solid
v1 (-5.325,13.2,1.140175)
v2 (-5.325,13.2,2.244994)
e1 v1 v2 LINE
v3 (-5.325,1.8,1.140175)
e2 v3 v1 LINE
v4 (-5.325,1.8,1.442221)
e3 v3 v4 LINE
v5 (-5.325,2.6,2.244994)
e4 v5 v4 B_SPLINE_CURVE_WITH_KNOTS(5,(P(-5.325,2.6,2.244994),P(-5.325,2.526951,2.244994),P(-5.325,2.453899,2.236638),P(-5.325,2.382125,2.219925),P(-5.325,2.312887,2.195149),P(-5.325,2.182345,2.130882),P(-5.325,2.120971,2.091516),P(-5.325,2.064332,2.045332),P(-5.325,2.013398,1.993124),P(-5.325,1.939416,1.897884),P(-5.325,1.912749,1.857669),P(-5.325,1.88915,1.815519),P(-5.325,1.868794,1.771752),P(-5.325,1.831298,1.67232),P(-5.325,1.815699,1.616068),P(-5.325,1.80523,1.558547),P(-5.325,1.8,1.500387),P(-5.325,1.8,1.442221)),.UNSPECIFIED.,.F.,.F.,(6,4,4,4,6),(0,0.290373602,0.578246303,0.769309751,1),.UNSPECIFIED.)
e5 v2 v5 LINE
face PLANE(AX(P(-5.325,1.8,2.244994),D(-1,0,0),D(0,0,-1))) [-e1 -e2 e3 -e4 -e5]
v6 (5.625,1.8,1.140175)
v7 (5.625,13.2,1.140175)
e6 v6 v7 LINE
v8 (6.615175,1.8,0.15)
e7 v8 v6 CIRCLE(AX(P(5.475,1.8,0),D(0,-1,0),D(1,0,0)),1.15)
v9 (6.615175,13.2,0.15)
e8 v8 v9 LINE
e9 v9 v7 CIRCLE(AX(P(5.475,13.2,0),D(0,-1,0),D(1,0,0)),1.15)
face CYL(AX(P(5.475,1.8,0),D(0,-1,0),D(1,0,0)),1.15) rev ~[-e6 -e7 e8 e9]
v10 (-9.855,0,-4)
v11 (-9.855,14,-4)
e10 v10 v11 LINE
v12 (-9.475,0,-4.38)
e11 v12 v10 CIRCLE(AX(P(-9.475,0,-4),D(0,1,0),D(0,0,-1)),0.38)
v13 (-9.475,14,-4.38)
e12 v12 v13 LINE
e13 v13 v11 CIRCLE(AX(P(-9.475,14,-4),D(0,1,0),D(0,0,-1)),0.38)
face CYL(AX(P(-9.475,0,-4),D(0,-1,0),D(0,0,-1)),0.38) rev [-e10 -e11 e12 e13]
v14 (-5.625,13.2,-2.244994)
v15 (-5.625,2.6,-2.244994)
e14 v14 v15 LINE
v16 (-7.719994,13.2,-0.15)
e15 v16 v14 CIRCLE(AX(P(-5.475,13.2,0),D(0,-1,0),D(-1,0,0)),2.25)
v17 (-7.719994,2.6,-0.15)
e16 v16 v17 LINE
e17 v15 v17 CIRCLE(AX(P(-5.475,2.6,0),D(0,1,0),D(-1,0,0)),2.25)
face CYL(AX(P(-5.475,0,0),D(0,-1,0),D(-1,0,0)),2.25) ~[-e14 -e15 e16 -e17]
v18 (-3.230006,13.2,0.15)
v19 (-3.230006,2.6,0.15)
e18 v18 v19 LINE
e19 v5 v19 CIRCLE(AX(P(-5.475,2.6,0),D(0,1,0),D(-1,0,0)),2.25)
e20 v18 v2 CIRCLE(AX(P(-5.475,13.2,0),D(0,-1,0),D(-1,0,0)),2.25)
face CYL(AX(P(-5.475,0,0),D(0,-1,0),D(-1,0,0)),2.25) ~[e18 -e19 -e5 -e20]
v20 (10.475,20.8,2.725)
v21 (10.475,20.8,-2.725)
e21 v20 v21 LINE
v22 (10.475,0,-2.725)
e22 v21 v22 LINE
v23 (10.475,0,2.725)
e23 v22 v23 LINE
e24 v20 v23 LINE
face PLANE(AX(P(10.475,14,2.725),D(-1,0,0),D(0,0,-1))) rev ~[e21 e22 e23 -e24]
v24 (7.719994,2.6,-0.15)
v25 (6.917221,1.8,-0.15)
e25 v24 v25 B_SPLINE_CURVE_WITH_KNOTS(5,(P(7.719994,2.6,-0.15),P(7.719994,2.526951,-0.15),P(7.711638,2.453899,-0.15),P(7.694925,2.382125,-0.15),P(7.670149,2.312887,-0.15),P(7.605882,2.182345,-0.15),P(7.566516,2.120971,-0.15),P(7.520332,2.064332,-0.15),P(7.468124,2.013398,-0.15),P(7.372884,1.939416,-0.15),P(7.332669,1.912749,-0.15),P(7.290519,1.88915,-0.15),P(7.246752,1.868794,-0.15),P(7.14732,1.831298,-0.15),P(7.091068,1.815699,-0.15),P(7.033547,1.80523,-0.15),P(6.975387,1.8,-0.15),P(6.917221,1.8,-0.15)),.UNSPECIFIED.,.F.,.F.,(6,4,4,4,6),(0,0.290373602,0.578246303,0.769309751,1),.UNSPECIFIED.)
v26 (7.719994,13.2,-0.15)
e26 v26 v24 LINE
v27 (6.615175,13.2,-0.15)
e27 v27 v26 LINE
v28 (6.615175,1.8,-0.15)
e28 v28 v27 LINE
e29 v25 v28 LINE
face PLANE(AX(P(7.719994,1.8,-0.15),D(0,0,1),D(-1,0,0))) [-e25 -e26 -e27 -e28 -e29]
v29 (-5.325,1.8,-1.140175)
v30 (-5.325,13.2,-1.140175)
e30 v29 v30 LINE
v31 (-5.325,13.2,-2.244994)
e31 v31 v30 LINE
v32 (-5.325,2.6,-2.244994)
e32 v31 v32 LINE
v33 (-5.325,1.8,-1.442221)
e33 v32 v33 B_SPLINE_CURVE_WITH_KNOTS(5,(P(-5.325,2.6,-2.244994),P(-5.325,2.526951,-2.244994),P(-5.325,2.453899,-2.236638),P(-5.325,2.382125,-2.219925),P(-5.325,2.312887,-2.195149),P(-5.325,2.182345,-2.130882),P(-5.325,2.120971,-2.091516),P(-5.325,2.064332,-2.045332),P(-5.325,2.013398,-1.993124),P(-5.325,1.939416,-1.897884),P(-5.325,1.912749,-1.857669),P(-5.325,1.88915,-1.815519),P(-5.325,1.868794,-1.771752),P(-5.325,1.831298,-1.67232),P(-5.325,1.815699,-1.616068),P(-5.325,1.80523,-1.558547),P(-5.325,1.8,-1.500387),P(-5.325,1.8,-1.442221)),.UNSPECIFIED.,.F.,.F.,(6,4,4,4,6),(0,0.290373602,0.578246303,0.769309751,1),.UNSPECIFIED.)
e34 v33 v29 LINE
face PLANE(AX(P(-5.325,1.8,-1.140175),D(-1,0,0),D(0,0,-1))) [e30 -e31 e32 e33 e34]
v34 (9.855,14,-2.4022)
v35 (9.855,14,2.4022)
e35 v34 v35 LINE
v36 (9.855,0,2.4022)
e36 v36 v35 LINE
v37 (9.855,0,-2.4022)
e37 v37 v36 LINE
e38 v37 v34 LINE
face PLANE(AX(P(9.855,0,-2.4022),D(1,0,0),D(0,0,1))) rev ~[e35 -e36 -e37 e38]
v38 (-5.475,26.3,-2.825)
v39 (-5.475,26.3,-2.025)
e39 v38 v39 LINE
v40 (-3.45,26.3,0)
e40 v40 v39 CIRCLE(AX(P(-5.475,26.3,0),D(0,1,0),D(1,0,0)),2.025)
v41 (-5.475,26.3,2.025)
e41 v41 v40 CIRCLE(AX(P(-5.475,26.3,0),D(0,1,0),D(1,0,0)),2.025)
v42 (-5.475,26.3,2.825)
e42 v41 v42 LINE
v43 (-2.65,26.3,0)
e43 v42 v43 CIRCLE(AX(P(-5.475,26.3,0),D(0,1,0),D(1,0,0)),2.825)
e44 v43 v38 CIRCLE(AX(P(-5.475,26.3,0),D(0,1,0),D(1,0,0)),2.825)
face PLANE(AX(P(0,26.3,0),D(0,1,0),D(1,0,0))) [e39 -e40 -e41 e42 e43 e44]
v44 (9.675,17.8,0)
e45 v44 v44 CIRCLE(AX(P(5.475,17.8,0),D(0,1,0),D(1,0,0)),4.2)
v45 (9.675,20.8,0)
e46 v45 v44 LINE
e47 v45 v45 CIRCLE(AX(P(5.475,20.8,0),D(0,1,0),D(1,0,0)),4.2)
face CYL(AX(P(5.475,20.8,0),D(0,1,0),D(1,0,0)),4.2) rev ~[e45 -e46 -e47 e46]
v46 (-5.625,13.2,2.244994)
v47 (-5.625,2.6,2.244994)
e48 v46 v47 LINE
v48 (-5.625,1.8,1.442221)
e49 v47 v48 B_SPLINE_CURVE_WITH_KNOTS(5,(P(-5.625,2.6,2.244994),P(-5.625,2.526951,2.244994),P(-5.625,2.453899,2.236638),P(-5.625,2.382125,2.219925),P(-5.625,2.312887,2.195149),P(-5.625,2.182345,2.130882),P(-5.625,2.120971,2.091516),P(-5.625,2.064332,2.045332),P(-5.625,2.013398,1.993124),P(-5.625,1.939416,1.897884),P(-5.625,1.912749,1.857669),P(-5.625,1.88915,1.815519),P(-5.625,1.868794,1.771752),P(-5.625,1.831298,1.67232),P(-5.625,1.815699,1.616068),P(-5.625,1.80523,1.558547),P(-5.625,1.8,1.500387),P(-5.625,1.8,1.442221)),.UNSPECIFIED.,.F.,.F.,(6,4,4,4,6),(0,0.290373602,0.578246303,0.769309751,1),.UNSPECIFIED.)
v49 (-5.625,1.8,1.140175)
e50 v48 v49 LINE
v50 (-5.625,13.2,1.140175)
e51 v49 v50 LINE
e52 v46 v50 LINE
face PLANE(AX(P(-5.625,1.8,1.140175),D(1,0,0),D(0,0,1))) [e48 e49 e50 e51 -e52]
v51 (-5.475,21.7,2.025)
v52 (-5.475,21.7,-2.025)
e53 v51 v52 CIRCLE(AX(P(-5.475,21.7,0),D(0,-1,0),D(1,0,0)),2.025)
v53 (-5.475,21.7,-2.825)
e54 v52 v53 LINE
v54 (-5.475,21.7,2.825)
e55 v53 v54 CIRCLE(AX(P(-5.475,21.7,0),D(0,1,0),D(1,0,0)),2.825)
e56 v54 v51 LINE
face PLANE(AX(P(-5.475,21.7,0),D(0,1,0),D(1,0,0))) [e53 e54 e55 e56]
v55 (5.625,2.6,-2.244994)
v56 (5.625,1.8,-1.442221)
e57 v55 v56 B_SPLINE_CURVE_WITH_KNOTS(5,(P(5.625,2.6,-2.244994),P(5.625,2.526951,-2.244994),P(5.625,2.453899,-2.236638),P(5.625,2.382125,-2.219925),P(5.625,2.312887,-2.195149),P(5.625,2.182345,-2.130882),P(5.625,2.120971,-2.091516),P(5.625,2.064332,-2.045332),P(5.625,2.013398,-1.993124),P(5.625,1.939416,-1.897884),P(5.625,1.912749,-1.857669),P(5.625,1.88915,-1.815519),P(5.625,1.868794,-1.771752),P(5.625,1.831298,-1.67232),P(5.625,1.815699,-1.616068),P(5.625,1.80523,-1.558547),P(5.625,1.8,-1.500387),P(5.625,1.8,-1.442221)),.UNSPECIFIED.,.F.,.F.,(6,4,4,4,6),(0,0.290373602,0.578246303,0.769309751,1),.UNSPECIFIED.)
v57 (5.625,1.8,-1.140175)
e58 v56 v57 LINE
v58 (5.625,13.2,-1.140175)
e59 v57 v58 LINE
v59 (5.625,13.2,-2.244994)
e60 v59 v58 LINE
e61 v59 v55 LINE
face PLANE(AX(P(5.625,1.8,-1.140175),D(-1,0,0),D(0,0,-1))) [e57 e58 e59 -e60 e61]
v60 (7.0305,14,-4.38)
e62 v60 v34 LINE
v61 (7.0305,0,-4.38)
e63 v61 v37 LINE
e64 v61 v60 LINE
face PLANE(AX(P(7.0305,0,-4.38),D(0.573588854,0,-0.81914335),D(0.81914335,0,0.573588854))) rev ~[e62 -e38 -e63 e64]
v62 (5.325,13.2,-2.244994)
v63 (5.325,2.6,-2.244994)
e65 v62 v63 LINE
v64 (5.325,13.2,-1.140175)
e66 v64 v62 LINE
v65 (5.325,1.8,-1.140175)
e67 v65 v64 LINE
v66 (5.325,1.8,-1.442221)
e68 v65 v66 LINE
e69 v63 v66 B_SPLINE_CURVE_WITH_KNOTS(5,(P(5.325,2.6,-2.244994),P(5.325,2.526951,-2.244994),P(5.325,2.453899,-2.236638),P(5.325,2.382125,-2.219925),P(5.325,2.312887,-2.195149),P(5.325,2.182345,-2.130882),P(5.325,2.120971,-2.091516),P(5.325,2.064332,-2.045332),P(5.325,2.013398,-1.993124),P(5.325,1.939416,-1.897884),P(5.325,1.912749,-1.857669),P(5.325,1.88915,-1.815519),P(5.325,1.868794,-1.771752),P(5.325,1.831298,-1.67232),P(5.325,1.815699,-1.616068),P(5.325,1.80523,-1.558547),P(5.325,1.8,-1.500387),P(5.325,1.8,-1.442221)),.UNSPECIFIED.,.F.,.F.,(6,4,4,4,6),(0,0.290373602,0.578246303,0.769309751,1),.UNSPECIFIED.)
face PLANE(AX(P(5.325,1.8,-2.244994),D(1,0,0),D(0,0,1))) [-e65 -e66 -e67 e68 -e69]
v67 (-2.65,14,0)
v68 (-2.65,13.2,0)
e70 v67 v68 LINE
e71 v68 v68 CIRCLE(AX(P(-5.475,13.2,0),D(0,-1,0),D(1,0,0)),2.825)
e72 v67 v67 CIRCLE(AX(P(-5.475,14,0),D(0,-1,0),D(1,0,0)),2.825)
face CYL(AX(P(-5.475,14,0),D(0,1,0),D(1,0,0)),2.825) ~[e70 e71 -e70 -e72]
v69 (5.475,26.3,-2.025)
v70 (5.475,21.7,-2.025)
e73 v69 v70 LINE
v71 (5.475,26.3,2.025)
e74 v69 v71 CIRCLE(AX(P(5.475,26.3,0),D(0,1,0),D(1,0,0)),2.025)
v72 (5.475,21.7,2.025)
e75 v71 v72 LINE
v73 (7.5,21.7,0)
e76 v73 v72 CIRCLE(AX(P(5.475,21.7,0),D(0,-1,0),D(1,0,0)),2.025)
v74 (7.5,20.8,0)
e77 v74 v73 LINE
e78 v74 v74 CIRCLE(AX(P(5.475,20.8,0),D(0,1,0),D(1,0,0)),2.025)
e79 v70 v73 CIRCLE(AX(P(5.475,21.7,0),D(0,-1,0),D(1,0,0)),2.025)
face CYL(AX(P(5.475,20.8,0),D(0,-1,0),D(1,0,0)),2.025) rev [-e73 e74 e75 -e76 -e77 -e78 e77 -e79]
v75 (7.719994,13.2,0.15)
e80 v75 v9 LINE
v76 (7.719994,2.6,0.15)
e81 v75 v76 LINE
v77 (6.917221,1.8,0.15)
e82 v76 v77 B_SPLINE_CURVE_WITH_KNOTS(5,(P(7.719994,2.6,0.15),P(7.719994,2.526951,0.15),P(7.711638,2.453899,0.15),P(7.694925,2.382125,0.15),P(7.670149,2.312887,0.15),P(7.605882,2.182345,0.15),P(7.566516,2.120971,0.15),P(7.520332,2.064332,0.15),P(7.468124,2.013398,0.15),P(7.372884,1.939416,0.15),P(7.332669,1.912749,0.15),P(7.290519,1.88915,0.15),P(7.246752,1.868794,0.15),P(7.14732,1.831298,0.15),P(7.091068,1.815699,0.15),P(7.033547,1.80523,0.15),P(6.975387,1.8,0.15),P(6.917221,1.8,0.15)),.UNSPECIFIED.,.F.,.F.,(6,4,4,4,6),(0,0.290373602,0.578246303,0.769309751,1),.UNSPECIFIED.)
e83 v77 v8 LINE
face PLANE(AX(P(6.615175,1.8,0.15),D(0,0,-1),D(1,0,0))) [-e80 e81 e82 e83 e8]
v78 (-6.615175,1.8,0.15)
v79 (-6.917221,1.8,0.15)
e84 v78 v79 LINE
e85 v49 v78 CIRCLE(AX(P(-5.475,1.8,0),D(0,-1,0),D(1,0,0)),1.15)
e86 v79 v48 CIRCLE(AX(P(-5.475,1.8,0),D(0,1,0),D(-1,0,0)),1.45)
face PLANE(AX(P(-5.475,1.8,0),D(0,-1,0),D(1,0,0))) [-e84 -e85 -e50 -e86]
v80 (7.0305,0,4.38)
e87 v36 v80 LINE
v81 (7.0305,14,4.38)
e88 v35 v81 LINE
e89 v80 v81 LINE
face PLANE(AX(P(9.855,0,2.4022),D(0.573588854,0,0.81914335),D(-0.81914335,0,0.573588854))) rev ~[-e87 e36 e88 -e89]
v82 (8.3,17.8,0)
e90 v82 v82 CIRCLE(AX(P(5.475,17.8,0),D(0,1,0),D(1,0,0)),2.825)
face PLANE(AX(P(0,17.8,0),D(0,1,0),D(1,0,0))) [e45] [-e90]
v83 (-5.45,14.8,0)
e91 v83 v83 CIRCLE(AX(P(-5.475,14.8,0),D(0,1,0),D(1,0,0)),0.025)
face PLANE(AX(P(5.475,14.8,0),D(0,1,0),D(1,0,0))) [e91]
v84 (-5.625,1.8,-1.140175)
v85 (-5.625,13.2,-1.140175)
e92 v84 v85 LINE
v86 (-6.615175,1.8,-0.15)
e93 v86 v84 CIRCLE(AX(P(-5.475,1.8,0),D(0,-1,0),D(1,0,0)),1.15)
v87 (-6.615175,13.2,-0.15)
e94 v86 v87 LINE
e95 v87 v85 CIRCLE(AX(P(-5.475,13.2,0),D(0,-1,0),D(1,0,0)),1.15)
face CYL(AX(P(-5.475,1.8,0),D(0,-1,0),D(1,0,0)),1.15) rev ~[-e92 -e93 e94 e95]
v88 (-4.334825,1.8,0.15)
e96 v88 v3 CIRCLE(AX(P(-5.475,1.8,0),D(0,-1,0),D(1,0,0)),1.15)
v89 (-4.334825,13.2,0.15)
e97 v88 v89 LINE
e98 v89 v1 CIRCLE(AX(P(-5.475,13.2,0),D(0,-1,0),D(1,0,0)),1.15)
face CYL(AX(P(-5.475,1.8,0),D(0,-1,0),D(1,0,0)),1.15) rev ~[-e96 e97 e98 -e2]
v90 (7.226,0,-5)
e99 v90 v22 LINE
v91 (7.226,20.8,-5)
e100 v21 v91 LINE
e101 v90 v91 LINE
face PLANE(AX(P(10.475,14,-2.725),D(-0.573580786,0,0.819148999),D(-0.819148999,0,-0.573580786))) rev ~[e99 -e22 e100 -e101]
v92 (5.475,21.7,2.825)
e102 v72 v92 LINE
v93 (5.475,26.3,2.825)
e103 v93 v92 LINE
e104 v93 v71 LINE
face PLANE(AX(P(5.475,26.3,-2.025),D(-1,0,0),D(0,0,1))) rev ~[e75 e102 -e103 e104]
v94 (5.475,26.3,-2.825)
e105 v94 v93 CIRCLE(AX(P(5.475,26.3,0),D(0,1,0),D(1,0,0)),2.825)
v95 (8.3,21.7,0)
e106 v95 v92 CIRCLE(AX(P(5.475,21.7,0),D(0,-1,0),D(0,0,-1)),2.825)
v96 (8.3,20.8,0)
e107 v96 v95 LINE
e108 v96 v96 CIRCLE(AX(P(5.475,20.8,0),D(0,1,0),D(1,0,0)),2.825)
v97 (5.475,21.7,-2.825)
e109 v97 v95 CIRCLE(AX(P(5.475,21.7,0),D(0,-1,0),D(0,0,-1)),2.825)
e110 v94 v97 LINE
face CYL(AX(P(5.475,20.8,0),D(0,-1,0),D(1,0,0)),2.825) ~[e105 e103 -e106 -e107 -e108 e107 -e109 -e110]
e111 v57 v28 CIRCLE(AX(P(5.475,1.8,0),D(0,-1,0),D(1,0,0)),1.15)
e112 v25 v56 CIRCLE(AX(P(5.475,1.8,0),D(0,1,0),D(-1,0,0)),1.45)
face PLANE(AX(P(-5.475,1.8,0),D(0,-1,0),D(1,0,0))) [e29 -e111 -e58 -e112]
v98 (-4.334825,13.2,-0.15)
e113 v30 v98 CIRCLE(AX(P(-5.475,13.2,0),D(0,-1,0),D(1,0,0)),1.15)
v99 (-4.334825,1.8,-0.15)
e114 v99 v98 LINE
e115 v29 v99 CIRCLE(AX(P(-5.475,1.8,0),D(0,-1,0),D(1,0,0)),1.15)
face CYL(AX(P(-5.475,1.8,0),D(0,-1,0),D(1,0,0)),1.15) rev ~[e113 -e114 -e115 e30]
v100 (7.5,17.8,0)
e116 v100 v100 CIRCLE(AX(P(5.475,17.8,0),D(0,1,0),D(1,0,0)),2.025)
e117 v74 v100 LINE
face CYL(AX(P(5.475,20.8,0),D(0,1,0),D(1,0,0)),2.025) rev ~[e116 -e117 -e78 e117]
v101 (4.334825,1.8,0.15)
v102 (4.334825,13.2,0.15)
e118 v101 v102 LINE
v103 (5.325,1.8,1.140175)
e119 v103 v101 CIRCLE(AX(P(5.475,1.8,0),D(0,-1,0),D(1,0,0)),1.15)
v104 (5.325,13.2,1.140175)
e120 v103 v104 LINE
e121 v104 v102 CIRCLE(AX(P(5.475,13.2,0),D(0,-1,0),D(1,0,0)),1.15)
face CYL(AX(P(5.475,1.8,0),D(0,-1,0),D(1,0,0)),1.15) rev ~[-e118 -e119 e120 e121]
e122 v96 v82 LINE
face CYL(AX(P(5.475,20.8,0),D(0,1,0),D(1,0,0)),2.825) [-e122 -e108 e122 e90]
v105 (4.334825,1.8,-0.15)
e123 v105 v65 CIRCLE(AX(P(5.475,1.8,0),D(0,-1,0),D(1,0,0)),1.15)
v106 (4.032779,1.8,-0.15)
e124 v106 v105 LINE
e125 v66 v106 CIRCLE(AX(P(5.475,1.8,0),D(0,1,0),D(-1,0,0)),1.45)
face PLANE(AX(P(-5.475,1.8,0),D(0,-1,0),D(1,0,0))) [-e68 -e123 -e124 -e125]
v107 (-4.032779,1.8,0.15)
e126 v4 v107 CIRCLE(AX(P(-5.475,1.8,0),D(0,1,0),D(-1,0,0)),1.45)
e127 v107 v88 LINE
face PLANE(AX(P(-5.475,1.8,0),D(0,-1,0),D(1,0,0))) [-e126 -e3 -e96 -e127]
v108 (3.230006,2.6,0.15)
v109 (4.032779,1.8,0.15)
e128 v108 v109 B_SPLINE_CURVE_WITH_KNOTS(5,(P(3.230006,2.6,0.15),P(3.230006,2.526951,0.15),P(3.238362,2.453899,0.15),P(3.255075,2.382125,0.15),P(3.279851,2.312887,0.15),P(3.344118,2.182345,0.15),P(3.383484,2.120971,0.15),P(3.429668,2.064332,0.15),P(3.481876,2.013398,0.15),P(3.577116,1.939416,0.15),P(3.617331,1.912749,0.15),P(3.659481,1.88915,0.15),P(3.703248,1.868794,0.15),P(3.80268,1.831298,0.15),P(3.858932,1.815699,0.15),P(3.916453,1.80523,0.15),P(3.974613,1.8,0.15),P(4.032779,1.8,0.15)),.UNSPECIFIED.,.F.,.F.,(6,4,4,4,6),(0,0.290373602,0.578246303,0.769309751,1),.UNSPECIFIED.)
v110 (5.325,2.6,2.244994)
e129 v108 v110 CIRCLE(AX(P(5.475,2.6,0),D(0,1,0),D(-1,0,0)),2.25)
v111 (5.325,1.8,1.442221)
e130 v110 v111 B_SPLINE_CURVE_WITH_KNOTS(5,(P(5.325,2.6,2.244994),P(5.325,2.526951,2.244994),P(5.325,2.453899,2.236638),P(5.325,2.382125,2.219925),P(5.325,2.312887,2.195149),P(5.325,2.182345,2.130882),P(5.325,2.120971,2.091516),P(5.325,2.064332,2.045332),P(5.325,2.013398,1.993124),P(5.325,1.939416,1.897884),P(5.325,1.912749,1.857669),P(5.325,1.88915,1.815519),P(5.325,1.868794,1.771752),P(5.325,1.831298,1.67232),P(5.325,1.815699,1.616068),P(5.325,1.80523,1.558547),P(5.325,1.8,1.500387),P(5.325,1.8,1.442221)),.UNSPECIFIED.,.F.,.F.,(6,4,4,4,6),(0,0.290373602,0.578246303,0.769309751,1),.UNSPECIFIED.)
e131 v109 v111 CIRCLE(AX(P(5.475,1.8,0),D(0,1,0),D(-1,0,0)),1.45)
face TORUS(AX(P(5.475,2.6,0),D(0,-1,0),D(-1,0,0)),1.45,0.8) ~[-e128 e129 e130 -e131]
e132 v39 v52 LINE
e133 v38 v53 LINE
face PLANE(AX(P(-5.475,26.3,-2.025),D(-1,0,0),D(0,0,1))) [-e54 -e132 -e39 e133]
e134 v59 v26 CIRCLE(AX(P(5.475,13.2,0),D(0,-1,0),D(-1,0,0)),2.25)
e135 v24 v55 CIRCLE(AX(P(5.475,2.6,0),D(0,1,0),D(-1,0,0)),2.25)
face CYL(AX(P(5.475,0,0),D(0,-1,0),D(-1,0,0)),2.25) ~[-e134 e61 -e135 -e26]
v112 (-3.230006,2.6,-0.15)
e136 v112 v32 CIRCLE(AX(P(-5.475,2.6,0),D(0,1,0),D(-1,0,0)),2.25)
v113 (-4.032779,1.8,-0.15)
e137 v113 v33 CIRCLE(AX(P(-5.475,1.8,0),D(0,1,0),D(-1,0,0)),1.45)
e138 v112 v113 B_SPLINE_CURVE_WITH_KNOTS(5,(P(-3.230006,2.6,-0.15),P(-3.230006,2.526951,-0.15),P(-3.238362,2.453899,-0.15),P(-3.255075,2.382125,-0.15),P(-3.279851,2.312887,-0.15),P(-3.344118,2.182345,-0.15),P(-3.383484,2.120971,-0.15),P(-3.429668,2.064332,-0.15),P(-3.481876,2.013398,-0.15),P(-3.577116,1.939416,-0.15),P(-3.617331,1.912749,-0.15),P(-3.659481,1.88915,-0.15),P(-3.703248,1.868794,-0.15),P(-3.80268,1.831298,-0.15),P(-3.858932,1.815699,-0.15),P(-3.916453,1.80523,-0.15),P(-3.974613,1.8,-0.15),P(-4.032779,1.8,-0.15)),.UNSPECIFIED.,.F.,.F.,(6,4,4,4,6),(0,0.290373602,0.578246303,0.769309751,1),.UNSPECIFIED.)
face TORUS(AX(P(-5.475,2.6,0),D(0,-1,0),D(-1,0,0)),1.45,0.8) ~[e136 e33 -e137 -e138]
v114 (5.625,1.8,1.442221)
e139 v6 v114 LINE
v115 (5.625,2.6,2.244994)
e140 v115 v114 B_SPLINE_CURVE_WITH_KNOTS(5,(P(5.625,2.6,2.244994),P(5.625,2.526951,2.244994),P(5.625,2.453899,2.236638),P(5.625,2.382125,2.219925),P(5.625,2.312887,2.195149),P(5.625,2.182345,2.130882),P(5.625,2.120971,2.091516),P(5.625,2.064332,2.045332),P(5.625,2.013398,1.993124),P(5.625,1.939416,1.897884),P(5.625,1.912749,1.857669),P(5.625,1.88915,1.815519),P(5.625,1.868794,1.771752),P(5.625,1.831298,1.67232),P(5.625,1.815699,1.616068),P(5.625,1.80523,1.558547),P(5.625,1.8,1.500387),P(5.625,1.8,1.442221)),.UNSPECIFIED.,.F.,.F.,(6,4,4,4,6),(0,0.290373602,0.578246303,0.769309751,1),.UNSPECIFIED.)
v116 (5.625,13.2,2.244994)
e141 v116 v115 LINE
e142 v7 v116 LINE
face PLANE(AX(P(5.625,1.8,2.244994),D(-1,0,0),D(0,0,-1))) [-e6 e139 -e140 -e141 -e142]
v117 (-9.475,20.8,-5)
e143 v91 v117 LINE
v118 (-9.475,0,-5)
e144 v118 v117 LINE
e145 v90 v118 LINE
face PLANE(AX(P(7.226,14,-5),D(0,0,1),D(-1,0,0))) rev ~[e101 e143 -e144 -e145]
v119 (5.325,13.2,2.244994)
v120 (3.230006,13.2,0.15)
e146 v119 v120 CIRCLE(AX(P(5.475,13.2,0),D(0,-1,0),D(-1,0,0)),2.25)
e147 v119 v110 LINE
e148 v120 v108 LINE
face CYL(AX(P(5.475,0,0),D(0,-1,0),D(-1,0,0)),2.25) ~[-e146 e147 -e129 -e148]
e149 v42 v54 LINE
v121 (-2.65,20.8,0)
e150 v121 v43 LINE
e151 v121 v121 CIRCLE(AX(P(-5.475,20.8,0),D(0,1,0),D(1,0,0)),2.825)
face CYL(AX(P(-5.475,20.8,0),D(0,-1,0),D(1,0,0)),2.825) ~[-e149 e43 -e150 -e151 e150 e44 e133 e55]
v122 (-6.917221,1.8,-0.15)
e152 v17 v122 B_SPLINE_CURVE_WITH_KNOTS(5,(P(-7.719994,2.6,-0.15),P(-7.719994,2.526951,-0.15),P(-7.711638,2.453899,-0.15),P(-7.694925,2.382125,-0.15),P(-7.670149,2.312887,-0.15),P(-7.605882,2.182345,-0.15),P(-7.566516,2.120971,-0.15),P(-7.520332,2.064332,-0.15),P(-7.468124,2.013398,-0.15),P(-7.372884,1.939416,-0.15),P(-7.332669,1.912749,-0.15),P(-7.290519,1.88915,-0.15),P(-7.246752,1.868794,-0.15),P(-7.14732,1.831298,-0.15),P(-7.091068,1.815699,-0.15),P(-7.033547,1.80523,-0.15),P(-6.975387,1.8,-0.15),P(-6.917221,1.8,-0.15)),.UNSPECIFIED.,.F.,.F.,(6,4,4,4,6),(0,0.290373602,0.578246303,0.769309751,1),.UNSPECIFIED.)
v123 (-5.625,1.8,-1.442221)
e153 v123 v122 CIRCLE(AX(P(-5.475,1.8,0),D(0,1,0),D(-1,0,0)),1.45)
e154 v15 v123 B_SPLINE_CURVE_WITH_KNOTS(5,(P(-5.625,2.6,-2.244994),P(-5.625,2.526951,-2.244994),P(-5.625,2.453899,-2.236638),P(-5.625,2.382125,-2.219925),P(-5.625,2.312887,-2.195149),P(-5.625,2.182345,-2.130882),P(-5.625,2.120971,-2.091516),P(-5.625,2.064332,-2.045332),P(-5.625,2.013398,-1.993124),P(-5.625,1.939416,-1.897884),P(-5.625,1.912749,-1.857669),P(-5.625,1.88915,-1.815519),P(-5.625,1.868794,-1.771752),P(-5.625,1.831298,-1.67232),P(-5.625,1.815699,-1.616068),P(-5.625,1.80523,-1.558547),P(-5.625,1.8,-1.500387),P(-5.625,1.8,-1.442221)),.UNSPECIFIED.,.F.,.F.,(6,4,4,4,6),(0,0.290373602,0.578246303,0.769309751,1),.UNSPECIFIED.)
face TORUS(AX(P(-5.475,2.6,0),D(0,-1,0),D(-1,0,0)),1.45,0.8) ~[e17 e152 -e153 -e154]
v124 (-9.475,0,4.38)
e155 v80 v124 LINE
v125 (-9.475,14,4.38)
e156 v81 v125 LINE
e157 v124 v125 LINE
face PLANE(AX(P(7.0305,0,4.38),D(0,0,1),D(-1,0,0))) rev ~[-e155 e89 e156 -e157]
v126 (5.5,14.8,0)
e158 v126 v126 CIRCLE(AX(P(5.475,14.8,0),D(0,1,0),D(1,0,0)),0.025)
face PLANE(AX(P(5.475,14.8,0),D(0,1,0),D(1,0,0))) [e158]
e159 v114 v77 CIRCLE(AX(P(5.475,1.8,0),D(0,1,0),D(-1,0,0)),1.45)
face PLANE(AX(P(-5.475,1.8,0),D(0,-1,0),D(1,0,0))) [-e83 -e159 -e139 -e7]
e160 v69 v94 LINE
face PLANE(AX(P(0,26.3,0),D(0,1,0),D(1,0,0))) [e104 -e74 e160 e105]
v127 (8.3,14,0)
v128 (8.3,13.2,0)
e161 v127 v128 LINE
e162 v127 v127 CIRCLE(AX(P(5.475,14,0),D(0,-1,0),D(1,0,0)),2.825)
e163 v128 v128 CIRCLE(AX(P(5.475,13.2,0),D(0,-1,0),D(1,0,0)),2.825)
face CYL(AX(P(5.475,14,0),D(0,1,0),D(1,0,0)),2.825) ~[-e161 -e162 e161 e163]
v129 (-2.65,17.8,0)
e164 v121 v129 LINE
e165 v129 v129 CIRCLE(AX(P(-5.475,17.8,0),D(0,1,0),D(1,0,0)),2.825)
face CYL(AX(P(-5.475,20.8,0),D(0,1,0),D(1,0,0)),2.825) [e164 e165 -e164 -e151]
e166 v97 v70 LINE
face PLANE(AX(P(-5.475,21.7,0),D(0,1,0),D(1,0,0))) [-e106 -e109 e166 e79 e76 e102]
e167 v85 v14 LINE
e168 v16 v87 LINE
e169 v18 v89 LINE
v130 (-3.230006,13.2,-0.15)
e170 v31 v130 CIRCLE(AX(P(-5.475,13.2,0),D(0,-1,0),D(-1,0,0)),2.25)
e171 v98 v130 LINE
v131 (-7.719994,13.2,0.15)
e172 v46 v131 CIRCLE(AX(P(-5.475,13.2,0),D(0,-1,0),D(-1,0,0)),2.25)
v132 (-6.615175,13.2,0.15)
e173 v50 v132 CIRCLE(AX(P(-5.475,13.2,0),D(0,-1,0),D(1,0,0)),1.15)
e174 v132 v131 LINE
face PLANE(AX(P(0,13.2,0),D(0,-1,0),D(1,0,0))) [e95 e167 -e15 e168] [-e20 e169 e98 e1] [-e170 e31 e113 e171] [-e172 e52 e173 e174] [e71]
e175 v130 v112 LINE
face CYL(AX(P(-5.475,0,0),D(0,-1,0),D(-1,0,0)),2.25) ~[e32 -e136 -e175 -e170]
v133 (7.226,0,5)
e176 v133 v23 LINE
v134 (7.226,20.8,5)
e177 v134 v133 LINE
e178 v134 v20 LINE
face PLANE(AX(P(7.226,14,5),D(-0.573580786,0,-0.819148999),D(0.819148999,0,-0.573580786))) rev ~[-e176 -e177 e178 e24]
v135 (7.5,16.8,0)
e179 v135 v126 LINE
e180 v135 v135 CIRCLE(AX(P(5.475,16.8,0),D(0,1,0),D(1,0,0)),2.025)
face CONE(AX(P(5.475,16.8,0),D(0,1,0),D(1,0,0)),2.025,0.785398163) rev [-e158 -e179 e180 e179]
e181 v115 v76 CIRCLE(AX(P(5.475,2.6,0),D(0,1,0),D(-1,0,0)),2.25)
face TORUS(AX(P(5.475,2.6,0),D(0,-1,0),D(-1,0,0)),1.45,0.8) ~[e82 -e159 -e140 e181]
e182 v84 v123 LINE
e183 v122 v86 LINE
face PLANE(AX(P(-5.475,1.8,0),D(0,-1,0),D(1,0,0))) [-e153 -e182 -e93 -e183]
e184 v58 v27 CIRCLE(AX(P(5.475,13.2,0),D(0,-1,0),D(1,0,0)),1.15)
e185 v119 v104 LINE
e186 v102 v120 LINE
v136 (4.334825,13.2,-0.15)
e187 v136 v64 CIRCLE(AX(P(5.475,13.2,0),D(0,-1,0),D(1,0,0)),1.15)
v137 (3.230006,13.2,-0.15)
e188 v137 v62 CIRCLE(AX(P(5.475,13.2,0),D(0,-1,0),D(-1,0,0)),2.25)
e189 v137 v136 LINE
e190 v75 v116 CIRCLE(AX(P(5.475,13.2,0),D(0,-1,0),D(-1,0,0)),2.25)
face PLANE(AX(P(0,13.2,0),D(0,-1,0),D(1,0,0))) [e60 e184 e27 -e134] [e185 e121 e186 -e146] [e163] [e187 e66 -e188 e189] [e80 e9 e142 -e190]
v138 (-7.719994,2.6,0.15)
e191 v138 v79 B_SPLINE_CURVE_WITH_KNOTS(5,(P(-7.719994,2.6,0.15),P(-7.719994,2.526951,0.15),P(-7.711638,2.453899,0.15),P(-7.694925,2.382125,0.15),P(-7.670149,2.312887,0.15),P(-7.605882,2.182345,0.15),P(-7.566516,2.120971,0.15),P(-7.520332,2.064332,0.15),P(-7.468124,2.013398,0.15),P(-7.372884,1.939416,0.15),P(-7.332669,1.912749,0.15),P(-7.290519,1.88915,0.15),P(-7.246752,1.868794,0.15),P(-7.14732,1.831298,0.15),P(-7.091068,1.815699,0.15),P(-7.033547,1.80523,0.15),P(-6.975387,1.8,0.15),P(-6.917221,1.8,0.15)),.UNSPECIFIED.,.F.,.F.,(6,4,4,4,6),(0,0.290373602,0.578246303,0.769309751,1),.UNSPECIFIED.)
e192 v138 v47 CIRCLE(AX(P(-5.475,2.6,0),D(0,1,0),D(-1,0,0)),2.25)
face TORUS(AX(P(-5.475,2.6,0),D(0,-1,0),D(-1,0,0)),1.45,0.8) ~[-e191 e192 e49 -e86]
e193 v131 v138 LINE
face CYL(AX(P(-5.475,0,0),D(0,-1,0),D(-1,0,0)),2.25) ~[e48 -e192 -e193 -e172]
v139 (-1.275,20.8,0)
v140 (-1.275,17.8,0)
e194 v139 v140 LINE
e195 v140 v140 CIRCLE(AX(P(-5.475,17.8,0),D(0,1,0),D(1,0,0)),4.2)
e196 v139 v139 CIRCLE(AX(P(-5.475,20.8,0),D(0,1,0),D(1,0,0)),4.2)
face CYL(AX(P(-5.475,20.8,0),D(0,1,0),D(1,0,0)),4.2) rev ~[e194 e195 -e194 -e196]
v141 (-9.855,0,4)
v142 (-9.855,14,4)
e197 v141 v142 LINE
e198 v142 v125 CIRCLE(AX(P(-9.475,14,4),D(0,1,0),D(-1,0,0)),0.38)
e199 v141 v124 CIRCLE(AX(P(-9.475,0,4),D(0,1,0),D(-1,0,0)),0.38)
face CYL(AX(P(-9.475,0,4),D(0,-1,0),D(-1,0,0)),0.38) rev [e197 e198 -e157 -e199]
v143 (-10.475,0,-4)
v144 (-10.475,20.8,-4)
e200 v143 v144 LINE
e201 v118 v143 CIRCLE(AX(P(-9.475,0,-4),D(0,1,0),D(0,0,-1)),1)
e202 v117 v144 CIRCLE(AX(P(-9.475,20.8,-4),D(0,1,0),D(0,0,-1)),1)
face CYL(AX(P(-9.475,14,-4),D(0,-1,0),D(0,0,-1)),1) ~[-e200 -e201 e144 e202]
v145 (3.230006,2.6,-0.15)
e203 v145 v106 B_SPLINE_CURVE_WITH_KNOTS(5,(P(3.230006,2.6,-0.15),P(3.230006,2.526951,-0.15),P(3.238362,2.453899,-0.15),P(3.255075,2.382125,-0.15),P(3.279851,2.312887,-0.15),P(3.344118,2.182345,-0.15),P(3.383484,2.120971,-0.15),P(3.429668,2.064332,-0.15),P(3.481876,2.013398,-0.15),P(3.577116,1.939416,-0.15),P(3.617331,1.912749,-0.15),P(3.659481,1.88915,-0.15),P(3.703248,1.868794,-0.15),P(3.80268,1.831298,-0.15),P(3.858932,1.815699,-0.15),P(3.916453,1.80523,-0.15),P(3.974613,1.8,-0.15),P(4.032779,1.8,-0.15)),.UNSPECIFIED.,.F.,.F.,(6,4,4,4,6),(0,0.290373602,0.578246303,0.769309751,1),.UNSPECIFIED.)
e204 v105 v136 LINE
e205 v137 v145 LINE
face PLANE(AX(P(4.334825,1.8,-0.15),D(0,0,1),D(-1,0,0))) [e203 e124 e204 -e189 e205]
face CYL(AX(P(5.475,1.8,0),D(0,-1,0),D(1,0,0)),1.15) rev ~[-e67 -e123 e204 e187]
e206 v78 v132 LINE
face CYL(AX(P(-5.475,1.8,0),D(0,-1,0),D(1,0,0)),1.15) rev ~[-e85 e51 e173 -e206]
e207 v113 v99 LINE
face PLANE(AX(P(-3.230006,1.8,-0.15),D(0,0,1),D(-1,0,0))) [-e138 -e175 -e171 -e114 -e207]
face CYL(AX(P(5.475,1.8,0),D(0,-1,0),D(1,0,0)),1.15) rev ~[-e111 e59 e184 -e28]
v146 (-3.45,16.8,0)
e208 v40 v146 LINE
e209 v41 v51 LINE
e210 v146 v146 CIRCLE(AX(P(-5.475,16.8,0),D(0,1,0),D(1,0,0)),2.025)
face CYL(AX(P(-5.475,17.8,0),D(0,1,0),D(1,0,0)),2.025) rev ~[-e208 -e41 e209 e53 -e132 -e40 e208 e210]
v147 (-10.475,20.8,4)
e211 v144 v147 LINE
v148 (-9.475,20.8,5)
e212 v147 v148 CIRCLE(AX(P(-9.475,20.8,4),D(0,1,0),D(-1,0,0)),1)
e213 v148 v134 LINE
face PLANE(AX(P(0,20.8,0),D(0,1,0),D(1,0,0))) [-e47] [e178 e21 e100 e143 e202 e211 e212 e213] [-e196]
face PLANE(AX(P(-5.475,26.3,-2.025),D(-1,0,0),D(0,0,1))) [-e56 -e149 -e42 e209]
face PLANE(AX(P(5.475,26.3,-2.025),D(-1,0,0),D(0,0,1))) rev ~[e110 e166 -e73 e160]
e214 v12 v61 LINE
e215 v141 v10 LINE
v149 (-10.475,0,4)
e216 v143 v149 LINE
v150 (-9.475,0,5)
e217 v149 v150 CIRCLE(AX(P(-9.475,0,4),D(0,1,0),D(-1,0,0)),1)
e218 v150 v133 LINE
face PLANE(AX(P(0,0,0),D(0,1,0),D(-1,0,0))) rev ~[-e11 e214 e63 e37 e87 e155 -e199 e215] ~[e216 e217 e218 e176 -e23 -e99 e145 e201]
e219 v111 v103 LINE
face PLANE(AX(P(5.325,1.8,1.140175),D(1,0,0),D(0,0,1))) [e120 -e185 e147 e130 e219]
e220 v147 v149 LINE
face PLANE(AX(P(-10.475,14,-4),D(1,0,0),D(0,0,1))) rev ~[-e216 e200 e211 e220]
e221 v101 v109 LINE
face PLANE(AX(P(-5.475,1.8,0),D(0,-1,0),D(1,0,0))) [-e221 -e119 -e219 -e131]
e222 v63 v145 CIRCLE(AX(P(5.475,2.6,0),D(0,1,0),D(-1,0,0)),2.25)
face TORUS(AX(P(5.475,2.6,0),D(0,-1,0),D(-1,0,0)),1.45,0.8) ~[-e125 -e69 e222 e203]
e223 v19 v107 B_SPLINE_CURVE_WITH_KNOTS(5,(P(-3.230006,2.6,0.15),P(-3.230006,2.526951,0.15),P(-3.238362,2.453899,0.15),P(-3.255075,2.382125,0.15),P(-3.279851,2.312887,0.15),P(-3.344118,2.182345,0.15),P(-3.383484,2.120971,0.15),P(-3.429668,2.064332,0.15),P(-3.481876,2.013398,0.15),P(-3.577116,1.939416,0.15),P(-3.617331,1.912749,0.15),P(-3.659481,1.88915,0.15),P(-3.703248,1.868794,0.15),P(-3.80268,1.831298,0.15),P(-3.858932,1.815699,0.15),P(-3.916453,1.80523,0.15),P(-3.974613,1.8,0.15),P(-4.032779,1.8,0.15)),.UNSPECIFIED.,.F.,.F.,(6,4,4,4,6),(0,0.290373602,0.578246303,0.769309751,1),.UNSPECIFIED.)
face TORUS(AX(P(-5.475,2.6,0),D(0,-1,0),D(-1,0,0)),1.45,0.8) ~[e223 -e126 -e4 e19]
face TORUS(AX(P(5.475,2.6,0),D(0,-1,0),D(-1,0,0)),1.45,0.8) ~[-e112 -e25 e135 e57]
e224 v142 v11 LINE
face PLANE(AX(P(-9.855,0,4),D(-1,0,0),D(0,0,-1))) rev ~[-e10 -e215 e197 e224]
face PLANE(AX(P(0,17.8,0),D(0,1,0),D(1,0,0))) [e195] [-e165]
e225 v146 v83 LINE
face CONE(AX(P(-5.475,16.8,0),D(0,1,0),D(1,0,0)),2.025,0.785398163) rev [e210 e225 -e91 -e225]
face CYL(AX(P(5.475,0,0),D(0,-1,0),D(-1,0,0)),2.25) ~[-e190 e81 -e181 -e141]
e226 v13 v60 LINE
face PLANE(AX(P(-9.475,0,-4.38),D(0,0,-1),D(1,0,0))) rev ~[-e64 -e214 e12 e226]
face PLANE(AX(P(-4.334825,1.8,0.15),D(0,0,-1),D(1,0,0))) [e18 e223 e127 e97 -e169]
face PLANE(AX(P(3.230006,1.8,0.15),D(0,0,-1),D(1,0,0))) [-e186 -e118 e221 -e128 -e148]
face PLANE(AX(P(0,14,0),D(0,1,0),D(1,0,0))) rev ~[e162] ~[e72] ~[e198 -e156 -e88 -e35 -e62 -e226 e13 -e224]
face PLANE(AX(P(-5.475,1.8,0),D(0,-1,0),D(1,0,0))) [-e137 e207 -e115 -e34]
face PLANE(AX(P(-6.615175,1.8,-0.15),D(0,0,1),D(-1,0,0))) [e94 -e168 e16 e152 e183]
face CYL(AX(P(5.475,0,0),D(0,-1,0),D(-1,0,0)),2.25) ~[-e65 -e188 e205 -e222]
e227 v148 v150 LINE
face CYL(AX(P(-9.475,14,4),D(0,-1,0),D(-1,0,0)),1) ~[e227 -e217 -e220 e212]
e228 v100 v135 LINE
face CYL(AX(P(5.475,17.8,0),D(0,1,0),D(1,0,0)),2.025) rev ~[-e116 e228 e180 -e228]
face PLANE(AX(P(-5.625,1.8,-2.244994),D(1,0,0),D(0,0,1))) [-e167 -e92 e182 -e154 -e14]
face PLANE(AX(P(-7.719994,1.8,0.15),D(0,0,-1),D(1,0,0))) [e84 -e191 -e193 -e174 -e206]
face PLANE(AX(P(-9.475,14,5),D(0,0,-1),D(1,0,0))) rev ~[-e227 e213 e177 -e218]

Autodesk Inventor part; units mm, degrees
ref_plane "YZ Plane" through (0, 0, 0) normal (1, 0, 0) x (0, 1, 0)
ref_plane "XZ Plane" through (0, 0, 0) normal (0, 1, 0) x (-1, 0, 0)
ref_plane "XY Plane" through (0, 0, 0) normal (0, 0, 1) x (1, 0, 0)
sketch "Skizze5" plane through (0, 0, 0) normal (0, 1, 0) x (-1, 0, 0)
  line L0 (10.475, 5) -> (-10.475, 5) construction
  line L1 (-10.475, 5) -> (-10.475, -5) construction
  line L2 (-10.475, -5) -> (10.475, -5) construction
  line L3 (10.475, -5) -> (10.475, 5) construction
  line L4 (9.475, 5) -> (-7.226, 5)
  line L5 (-7.226, 5) -> (-7.226, -5) construction
  line L6 (-7.226, -5) -> (9.475, -5)
  line L7 (10.475, -4) -> (10.475, 4)
  line L8 (-7.226, -5) -> (-10.475, -2.725)
  line L9 (-10.475, -2.725) -> (-10.475, 2.725)
  line L10 (-7.226, 5) -> (-10.475, 2.725)
  arc A0 (10.475, 4) -> (9.475, 5) centre (9.475, 4) ccw
  arc A1 (9.475, -5) -> (10.475, -4) centre (9.475, -4) ccw
  line L11 (-7.0305, 4.38) -> (9.475, 4.38)
  arc A2 (9.855, 4) -> (9.475, 4.38) centre (9.475, 4) ccw
  line L12 (9.855, 4) -> (9.855, -4)
  arc A3 (9.475, -4.38) -> (9.855, -4) centre (9.475, -4) ccw
  line L13 (9.475, -4.38) -> (-7.0305, -4.38)
  line L14 (-7.0305, -4.38) -> (-9.855, -2.4022)
  line L15 (-9.855, -2.4022) -> (-9.855, 2.4022)
  line L16 (-9.855, 2.4022) -> (-7.0305, 4.38)
  circle A4 centre (5.475, 0) radius 2.25
  circle A5 centre (-5.475, 0) radius 2.25
  line L17 (5.475, 0) -> (-5.475, 0) construction
  point P0 (0, 0)
  point P1 (-10.475, 0)
  point P2 (-10.475, 0)
  point P3 (0, 5)
  point P4 (0, 0)
  dimension "d40" = 20.95
  dimension "d41" = 10
  dimension "d42" = 5.45
  dimension "d43" = 55
  dimension "d44" = 17.701
  dimension "d45" = 1
  dimension "d46" = 0.62
  dimension "d47" = 10.95
  dimension "d48" = 4.5
extrude "Extrusion1" add sketch "Skizze5" along normal blind 14
sketch "Skizze6" plane through (0, 14, 0) normal (0, 1, 0) x (1, 0, 0)
  arc A0 (-9.855, -4) -> (-9.475, -4.38) centre (-9.475, -4) ccw projected
  line L0 (-9.855, -4) -> (-9.855, 4) construction
  arc A1 (-9.475, 4.38) -> (-9.855, 4) centre (-9.475, 4) ccw construction
  line L1 (-9.475, 4.38) -> (7.0305, 4.38) construction
  line L2 (7.0305, 4.38) -> (9.855, 2.4022) construction
  line L3 (9.855, 2.4022) -> (9.855, -2.4022) construction
  line L4 (9.855, -2.4022) -> (7.0305, -4.38) construction
  line L5 (7.0305, -4.38) -> (-9.475, -4.38) construction
  line L6 (7.226, 5) -> (-9.475, 5) projected
  arc A2 (-9.475, 5) -> (-10.475, 4) centre (-9.475, 4) ccw projected
  line L7 (-10.475, 4) -> (-10.475, -4) projected
  arc A3 (-10.475, -4) -> (-9.475, -5) centre (-9.475, -4) ccw projected
  line L8 (-9.475, -5) -> (7.226, -5) projected
  line L9 (7.226, -5) -> (10.475, -2.725) projected
  line L10 (10.475, -2.725) -> (10.475, 2.725) projected
  line L11 (10.475, 2.725) -> (7.226, 5) projected
  point P0 (0, 0)
extrude "Extrusion2" add sketch "Skizze6" along normal blind 6.8
sketch "Skizze7" plane through (-5.475, 0, 0) normal (0, -1, 0) x (1, 0, 0)
  circle A0 centre (0, 0) radius 2.25 projected
  circle A1 centre (10.95, 0) radius 2.25 projected
  point P0 (5.475, 0)
extrude "Extrusion3" cut sketch "Skizze7" against normal blind 1.8
sketch "Skizze8" plane through (0, 20.8, 0) normal (0, 1, 0) x (1, 0, 0)
  circle A0 centre (-5.475, 0) radius 2.25 construction
  circle A1 centre (5.475, 0) radius 2.25 construction
  circle A2 centre (-5.475, 0) radius 2.825
  circle A3 centre (5.475, 0) radius 2.825
  circle A4 centre (-5.475, 0) radius 2.025
  circle A5 centre (5.475, 0) radius 2.025
  point P0 (0, 0)
  dimension "d55" = 5.65
  dimension "d56" = 4.05
extrude "Extrusion4" add sketch "Skizze8" along normal blind 5.5
sketch "Skizze9" plane through (-5.475, 26.3, 0) normal (0, 1, 0) x (1, 0, 0)
  circle A0 centre (0, 0) radius 2.025 projected
  circle A1 centre (0, 0) radius 2.825 projected
  circle A2 centre (10.95, 0) radius 2.025 projected
  circle A3 centre (10.95, 0) radius 2.825 projected
  line L0 (0, 2.825) -> (0, -2.825)
  line L1 (10.95, 2.825) -> (10.95, -2.825)
  point P0 (5.475, 0)
extrude "Extrusion5" cut sketch "Skizze9" against normal blind 4.6 contours L0 A0 | A0 L0 A1 | A2 L1 | A2 L1 A3 picked at (-0.6311, -0.2394) picked at (-2.5397, 0.0814) picked at (11.2429, 0.6082) picked at (13.4678, -0.3597)
sketch "Skizze10" plane through (0, 20.8, 0) normal (0, 1, 0) x (1, 0, 0)
  circle A0 centre (-5.475, 0) radius 2.825 projected
  circle A1 centre (5.475, 0) radius 2.825 projected
  circle A2 centre (-5.475, 0) radius 4.2
  circle A3 centre (5.475, 0) radius 4.2
  circle A4 centre (-5.475, 0) radius 2.025 projected
  circle A5 centre (5.475, 0) radius 2.025 projected
  point P0 (0, 0)
  dimension "d61" = 8.4
extrude "Extrusion6" cut sketch "Skizze10" against normal blind 3
sketch "Skizze11" plane through (-5.475, 1.8, 0) normal (0, -1, 0) x (1, 0, 0)
  circle A0 centre (0, 0) radius 2.25 projected
  circle A1 centre (10.95, 0) radius 2.25 projected
  line L0 (-2.25, 0.15) -> (2.25, 0.15)
  line L1 (2.25, 0.15) -> (2.25, -0.15)
  line L2 (2.25, -0.15) -> (-2.25, -0.15)
  line L3 (-2.25, -0.15) -> (-2.25, 0.15)
  line L4 (-0.15, 2.25) -> (0.15, 2.25)
  line L5 (0.15, 2.25) -> (0.15, -2.25)
  line L6 (0.15, -2.25) -> (-0.15, -2.25)
  line L7 (-0.15, -2.25) -> (-0.15, 2.25)
  line L8 (8.7, 0.15) -> (13.2, 0.15)
  line L9 (13.2, 0.15) -> (13.2, -0.15)
  line L10 (13.2, -0.15) -> (8.7, -0.15)
  line L11 (8.7, -0.15) -> (8.7, 0.15)
  line L12 (10.8, 2.25) -> (11.1, 2.25)
  line L13 (11.1, 2.25) -> (11.1, -2.25)
  line L14 (11.1, -2.25) -> (10.8, -2.25)
  line L15 (10.8, -2.25) -> (10.8, 2.25)
  circle A2 centre (0, 0) radius 1.15
  circle A3 centre (10.95, 0) radius 1.15
  point P0 (5.475, 0)
  point P1 (0, 2.25)
  point P2 (10.95, 2.25)
  point P3 (-2.25, 0)
  point P4 (8.7, 0)
  dimension "d64" = 0.3
  dimension "d68" = 2.3
fillet "Rundung2" radius 0.8 2 edges at (-3.225, 1.8, 0) (7.725, 1.8, 0)
extrude "Extrusion7" cut sketch "Skizze11" against normal up to surface (12.2 mm away) contours A0 L2 A2 L0 | L1 L2 A0 | A0 L0 L1 | L5 A2 L7 A0 | A0 L4 L5 | A2 L2 L5 L0 | L0 L5 A2 | L5 L6 A0 | A0 L7 A2 L5 | A2 L5 L2 | A0 L7 L4 | L5 L0 L7 A2 | L5 L2 L7 L0 | L6 L7 A0 | A2 L7 L2 L5 | L7 L0 A2 | L7 L2 A2 L0 | A2 L2 L7 | L0 A2 L2 A0 | A0 L3 L0 | L2 L3 A0 | A1 L10 A3 L8 | L9 L10 A1 | A1 L8 L9 | L13 A3 L15 A1 | A1 L12 L13 | A3 L10 L13 L8 | L8 L13 A3 | L13 L14 A1 | A1 L15 A3 L13 | A3 L13 L10 | A1 L15 L12 | L13 L8 L15 A3 | L13 L10 L15 L8 | L14 L15 A1 | A3 L15 L10 L13 | L15 L8 A3 | L15 L10 A3 L8 | A3 L10 L15 | L8 A3 L10 A1 | A1 L11 L8 | L10 L11 A1
sketch "Skizze12" plane through (5.475, 17.8, 0) normal (0, 1, 0) x (1, 0, 0)
  circle A0 centre (0, 0) radius 2.025 projected
  circle A1 centre (-10.95, 0) radius 2.025 projected
  point P0 (-5.475, 0)
extrude "Extrusion8" cut sketch "Skizze12" against normal blind 3
chamfer "Fase1" distance 2 angle 45 2 edges at (3.45, 14.8, 0) (-7.5, 14.8, 0)
sketch "Skizze13" plane through (0, 14, 0) normal (0, -1, 0) x (1, 0, 0)
  circle A0 centre (5.475, 0) radius 2.825 projected
  circle A1 centre (-5.475, 0) radius 2.825 projected
  point P0 (0, 0)
extrude "Extrusion9" add sketch "Skizze13" along normal blind 0.8
properties part number "XT90 Male" material "PPS-Kunststoff"
